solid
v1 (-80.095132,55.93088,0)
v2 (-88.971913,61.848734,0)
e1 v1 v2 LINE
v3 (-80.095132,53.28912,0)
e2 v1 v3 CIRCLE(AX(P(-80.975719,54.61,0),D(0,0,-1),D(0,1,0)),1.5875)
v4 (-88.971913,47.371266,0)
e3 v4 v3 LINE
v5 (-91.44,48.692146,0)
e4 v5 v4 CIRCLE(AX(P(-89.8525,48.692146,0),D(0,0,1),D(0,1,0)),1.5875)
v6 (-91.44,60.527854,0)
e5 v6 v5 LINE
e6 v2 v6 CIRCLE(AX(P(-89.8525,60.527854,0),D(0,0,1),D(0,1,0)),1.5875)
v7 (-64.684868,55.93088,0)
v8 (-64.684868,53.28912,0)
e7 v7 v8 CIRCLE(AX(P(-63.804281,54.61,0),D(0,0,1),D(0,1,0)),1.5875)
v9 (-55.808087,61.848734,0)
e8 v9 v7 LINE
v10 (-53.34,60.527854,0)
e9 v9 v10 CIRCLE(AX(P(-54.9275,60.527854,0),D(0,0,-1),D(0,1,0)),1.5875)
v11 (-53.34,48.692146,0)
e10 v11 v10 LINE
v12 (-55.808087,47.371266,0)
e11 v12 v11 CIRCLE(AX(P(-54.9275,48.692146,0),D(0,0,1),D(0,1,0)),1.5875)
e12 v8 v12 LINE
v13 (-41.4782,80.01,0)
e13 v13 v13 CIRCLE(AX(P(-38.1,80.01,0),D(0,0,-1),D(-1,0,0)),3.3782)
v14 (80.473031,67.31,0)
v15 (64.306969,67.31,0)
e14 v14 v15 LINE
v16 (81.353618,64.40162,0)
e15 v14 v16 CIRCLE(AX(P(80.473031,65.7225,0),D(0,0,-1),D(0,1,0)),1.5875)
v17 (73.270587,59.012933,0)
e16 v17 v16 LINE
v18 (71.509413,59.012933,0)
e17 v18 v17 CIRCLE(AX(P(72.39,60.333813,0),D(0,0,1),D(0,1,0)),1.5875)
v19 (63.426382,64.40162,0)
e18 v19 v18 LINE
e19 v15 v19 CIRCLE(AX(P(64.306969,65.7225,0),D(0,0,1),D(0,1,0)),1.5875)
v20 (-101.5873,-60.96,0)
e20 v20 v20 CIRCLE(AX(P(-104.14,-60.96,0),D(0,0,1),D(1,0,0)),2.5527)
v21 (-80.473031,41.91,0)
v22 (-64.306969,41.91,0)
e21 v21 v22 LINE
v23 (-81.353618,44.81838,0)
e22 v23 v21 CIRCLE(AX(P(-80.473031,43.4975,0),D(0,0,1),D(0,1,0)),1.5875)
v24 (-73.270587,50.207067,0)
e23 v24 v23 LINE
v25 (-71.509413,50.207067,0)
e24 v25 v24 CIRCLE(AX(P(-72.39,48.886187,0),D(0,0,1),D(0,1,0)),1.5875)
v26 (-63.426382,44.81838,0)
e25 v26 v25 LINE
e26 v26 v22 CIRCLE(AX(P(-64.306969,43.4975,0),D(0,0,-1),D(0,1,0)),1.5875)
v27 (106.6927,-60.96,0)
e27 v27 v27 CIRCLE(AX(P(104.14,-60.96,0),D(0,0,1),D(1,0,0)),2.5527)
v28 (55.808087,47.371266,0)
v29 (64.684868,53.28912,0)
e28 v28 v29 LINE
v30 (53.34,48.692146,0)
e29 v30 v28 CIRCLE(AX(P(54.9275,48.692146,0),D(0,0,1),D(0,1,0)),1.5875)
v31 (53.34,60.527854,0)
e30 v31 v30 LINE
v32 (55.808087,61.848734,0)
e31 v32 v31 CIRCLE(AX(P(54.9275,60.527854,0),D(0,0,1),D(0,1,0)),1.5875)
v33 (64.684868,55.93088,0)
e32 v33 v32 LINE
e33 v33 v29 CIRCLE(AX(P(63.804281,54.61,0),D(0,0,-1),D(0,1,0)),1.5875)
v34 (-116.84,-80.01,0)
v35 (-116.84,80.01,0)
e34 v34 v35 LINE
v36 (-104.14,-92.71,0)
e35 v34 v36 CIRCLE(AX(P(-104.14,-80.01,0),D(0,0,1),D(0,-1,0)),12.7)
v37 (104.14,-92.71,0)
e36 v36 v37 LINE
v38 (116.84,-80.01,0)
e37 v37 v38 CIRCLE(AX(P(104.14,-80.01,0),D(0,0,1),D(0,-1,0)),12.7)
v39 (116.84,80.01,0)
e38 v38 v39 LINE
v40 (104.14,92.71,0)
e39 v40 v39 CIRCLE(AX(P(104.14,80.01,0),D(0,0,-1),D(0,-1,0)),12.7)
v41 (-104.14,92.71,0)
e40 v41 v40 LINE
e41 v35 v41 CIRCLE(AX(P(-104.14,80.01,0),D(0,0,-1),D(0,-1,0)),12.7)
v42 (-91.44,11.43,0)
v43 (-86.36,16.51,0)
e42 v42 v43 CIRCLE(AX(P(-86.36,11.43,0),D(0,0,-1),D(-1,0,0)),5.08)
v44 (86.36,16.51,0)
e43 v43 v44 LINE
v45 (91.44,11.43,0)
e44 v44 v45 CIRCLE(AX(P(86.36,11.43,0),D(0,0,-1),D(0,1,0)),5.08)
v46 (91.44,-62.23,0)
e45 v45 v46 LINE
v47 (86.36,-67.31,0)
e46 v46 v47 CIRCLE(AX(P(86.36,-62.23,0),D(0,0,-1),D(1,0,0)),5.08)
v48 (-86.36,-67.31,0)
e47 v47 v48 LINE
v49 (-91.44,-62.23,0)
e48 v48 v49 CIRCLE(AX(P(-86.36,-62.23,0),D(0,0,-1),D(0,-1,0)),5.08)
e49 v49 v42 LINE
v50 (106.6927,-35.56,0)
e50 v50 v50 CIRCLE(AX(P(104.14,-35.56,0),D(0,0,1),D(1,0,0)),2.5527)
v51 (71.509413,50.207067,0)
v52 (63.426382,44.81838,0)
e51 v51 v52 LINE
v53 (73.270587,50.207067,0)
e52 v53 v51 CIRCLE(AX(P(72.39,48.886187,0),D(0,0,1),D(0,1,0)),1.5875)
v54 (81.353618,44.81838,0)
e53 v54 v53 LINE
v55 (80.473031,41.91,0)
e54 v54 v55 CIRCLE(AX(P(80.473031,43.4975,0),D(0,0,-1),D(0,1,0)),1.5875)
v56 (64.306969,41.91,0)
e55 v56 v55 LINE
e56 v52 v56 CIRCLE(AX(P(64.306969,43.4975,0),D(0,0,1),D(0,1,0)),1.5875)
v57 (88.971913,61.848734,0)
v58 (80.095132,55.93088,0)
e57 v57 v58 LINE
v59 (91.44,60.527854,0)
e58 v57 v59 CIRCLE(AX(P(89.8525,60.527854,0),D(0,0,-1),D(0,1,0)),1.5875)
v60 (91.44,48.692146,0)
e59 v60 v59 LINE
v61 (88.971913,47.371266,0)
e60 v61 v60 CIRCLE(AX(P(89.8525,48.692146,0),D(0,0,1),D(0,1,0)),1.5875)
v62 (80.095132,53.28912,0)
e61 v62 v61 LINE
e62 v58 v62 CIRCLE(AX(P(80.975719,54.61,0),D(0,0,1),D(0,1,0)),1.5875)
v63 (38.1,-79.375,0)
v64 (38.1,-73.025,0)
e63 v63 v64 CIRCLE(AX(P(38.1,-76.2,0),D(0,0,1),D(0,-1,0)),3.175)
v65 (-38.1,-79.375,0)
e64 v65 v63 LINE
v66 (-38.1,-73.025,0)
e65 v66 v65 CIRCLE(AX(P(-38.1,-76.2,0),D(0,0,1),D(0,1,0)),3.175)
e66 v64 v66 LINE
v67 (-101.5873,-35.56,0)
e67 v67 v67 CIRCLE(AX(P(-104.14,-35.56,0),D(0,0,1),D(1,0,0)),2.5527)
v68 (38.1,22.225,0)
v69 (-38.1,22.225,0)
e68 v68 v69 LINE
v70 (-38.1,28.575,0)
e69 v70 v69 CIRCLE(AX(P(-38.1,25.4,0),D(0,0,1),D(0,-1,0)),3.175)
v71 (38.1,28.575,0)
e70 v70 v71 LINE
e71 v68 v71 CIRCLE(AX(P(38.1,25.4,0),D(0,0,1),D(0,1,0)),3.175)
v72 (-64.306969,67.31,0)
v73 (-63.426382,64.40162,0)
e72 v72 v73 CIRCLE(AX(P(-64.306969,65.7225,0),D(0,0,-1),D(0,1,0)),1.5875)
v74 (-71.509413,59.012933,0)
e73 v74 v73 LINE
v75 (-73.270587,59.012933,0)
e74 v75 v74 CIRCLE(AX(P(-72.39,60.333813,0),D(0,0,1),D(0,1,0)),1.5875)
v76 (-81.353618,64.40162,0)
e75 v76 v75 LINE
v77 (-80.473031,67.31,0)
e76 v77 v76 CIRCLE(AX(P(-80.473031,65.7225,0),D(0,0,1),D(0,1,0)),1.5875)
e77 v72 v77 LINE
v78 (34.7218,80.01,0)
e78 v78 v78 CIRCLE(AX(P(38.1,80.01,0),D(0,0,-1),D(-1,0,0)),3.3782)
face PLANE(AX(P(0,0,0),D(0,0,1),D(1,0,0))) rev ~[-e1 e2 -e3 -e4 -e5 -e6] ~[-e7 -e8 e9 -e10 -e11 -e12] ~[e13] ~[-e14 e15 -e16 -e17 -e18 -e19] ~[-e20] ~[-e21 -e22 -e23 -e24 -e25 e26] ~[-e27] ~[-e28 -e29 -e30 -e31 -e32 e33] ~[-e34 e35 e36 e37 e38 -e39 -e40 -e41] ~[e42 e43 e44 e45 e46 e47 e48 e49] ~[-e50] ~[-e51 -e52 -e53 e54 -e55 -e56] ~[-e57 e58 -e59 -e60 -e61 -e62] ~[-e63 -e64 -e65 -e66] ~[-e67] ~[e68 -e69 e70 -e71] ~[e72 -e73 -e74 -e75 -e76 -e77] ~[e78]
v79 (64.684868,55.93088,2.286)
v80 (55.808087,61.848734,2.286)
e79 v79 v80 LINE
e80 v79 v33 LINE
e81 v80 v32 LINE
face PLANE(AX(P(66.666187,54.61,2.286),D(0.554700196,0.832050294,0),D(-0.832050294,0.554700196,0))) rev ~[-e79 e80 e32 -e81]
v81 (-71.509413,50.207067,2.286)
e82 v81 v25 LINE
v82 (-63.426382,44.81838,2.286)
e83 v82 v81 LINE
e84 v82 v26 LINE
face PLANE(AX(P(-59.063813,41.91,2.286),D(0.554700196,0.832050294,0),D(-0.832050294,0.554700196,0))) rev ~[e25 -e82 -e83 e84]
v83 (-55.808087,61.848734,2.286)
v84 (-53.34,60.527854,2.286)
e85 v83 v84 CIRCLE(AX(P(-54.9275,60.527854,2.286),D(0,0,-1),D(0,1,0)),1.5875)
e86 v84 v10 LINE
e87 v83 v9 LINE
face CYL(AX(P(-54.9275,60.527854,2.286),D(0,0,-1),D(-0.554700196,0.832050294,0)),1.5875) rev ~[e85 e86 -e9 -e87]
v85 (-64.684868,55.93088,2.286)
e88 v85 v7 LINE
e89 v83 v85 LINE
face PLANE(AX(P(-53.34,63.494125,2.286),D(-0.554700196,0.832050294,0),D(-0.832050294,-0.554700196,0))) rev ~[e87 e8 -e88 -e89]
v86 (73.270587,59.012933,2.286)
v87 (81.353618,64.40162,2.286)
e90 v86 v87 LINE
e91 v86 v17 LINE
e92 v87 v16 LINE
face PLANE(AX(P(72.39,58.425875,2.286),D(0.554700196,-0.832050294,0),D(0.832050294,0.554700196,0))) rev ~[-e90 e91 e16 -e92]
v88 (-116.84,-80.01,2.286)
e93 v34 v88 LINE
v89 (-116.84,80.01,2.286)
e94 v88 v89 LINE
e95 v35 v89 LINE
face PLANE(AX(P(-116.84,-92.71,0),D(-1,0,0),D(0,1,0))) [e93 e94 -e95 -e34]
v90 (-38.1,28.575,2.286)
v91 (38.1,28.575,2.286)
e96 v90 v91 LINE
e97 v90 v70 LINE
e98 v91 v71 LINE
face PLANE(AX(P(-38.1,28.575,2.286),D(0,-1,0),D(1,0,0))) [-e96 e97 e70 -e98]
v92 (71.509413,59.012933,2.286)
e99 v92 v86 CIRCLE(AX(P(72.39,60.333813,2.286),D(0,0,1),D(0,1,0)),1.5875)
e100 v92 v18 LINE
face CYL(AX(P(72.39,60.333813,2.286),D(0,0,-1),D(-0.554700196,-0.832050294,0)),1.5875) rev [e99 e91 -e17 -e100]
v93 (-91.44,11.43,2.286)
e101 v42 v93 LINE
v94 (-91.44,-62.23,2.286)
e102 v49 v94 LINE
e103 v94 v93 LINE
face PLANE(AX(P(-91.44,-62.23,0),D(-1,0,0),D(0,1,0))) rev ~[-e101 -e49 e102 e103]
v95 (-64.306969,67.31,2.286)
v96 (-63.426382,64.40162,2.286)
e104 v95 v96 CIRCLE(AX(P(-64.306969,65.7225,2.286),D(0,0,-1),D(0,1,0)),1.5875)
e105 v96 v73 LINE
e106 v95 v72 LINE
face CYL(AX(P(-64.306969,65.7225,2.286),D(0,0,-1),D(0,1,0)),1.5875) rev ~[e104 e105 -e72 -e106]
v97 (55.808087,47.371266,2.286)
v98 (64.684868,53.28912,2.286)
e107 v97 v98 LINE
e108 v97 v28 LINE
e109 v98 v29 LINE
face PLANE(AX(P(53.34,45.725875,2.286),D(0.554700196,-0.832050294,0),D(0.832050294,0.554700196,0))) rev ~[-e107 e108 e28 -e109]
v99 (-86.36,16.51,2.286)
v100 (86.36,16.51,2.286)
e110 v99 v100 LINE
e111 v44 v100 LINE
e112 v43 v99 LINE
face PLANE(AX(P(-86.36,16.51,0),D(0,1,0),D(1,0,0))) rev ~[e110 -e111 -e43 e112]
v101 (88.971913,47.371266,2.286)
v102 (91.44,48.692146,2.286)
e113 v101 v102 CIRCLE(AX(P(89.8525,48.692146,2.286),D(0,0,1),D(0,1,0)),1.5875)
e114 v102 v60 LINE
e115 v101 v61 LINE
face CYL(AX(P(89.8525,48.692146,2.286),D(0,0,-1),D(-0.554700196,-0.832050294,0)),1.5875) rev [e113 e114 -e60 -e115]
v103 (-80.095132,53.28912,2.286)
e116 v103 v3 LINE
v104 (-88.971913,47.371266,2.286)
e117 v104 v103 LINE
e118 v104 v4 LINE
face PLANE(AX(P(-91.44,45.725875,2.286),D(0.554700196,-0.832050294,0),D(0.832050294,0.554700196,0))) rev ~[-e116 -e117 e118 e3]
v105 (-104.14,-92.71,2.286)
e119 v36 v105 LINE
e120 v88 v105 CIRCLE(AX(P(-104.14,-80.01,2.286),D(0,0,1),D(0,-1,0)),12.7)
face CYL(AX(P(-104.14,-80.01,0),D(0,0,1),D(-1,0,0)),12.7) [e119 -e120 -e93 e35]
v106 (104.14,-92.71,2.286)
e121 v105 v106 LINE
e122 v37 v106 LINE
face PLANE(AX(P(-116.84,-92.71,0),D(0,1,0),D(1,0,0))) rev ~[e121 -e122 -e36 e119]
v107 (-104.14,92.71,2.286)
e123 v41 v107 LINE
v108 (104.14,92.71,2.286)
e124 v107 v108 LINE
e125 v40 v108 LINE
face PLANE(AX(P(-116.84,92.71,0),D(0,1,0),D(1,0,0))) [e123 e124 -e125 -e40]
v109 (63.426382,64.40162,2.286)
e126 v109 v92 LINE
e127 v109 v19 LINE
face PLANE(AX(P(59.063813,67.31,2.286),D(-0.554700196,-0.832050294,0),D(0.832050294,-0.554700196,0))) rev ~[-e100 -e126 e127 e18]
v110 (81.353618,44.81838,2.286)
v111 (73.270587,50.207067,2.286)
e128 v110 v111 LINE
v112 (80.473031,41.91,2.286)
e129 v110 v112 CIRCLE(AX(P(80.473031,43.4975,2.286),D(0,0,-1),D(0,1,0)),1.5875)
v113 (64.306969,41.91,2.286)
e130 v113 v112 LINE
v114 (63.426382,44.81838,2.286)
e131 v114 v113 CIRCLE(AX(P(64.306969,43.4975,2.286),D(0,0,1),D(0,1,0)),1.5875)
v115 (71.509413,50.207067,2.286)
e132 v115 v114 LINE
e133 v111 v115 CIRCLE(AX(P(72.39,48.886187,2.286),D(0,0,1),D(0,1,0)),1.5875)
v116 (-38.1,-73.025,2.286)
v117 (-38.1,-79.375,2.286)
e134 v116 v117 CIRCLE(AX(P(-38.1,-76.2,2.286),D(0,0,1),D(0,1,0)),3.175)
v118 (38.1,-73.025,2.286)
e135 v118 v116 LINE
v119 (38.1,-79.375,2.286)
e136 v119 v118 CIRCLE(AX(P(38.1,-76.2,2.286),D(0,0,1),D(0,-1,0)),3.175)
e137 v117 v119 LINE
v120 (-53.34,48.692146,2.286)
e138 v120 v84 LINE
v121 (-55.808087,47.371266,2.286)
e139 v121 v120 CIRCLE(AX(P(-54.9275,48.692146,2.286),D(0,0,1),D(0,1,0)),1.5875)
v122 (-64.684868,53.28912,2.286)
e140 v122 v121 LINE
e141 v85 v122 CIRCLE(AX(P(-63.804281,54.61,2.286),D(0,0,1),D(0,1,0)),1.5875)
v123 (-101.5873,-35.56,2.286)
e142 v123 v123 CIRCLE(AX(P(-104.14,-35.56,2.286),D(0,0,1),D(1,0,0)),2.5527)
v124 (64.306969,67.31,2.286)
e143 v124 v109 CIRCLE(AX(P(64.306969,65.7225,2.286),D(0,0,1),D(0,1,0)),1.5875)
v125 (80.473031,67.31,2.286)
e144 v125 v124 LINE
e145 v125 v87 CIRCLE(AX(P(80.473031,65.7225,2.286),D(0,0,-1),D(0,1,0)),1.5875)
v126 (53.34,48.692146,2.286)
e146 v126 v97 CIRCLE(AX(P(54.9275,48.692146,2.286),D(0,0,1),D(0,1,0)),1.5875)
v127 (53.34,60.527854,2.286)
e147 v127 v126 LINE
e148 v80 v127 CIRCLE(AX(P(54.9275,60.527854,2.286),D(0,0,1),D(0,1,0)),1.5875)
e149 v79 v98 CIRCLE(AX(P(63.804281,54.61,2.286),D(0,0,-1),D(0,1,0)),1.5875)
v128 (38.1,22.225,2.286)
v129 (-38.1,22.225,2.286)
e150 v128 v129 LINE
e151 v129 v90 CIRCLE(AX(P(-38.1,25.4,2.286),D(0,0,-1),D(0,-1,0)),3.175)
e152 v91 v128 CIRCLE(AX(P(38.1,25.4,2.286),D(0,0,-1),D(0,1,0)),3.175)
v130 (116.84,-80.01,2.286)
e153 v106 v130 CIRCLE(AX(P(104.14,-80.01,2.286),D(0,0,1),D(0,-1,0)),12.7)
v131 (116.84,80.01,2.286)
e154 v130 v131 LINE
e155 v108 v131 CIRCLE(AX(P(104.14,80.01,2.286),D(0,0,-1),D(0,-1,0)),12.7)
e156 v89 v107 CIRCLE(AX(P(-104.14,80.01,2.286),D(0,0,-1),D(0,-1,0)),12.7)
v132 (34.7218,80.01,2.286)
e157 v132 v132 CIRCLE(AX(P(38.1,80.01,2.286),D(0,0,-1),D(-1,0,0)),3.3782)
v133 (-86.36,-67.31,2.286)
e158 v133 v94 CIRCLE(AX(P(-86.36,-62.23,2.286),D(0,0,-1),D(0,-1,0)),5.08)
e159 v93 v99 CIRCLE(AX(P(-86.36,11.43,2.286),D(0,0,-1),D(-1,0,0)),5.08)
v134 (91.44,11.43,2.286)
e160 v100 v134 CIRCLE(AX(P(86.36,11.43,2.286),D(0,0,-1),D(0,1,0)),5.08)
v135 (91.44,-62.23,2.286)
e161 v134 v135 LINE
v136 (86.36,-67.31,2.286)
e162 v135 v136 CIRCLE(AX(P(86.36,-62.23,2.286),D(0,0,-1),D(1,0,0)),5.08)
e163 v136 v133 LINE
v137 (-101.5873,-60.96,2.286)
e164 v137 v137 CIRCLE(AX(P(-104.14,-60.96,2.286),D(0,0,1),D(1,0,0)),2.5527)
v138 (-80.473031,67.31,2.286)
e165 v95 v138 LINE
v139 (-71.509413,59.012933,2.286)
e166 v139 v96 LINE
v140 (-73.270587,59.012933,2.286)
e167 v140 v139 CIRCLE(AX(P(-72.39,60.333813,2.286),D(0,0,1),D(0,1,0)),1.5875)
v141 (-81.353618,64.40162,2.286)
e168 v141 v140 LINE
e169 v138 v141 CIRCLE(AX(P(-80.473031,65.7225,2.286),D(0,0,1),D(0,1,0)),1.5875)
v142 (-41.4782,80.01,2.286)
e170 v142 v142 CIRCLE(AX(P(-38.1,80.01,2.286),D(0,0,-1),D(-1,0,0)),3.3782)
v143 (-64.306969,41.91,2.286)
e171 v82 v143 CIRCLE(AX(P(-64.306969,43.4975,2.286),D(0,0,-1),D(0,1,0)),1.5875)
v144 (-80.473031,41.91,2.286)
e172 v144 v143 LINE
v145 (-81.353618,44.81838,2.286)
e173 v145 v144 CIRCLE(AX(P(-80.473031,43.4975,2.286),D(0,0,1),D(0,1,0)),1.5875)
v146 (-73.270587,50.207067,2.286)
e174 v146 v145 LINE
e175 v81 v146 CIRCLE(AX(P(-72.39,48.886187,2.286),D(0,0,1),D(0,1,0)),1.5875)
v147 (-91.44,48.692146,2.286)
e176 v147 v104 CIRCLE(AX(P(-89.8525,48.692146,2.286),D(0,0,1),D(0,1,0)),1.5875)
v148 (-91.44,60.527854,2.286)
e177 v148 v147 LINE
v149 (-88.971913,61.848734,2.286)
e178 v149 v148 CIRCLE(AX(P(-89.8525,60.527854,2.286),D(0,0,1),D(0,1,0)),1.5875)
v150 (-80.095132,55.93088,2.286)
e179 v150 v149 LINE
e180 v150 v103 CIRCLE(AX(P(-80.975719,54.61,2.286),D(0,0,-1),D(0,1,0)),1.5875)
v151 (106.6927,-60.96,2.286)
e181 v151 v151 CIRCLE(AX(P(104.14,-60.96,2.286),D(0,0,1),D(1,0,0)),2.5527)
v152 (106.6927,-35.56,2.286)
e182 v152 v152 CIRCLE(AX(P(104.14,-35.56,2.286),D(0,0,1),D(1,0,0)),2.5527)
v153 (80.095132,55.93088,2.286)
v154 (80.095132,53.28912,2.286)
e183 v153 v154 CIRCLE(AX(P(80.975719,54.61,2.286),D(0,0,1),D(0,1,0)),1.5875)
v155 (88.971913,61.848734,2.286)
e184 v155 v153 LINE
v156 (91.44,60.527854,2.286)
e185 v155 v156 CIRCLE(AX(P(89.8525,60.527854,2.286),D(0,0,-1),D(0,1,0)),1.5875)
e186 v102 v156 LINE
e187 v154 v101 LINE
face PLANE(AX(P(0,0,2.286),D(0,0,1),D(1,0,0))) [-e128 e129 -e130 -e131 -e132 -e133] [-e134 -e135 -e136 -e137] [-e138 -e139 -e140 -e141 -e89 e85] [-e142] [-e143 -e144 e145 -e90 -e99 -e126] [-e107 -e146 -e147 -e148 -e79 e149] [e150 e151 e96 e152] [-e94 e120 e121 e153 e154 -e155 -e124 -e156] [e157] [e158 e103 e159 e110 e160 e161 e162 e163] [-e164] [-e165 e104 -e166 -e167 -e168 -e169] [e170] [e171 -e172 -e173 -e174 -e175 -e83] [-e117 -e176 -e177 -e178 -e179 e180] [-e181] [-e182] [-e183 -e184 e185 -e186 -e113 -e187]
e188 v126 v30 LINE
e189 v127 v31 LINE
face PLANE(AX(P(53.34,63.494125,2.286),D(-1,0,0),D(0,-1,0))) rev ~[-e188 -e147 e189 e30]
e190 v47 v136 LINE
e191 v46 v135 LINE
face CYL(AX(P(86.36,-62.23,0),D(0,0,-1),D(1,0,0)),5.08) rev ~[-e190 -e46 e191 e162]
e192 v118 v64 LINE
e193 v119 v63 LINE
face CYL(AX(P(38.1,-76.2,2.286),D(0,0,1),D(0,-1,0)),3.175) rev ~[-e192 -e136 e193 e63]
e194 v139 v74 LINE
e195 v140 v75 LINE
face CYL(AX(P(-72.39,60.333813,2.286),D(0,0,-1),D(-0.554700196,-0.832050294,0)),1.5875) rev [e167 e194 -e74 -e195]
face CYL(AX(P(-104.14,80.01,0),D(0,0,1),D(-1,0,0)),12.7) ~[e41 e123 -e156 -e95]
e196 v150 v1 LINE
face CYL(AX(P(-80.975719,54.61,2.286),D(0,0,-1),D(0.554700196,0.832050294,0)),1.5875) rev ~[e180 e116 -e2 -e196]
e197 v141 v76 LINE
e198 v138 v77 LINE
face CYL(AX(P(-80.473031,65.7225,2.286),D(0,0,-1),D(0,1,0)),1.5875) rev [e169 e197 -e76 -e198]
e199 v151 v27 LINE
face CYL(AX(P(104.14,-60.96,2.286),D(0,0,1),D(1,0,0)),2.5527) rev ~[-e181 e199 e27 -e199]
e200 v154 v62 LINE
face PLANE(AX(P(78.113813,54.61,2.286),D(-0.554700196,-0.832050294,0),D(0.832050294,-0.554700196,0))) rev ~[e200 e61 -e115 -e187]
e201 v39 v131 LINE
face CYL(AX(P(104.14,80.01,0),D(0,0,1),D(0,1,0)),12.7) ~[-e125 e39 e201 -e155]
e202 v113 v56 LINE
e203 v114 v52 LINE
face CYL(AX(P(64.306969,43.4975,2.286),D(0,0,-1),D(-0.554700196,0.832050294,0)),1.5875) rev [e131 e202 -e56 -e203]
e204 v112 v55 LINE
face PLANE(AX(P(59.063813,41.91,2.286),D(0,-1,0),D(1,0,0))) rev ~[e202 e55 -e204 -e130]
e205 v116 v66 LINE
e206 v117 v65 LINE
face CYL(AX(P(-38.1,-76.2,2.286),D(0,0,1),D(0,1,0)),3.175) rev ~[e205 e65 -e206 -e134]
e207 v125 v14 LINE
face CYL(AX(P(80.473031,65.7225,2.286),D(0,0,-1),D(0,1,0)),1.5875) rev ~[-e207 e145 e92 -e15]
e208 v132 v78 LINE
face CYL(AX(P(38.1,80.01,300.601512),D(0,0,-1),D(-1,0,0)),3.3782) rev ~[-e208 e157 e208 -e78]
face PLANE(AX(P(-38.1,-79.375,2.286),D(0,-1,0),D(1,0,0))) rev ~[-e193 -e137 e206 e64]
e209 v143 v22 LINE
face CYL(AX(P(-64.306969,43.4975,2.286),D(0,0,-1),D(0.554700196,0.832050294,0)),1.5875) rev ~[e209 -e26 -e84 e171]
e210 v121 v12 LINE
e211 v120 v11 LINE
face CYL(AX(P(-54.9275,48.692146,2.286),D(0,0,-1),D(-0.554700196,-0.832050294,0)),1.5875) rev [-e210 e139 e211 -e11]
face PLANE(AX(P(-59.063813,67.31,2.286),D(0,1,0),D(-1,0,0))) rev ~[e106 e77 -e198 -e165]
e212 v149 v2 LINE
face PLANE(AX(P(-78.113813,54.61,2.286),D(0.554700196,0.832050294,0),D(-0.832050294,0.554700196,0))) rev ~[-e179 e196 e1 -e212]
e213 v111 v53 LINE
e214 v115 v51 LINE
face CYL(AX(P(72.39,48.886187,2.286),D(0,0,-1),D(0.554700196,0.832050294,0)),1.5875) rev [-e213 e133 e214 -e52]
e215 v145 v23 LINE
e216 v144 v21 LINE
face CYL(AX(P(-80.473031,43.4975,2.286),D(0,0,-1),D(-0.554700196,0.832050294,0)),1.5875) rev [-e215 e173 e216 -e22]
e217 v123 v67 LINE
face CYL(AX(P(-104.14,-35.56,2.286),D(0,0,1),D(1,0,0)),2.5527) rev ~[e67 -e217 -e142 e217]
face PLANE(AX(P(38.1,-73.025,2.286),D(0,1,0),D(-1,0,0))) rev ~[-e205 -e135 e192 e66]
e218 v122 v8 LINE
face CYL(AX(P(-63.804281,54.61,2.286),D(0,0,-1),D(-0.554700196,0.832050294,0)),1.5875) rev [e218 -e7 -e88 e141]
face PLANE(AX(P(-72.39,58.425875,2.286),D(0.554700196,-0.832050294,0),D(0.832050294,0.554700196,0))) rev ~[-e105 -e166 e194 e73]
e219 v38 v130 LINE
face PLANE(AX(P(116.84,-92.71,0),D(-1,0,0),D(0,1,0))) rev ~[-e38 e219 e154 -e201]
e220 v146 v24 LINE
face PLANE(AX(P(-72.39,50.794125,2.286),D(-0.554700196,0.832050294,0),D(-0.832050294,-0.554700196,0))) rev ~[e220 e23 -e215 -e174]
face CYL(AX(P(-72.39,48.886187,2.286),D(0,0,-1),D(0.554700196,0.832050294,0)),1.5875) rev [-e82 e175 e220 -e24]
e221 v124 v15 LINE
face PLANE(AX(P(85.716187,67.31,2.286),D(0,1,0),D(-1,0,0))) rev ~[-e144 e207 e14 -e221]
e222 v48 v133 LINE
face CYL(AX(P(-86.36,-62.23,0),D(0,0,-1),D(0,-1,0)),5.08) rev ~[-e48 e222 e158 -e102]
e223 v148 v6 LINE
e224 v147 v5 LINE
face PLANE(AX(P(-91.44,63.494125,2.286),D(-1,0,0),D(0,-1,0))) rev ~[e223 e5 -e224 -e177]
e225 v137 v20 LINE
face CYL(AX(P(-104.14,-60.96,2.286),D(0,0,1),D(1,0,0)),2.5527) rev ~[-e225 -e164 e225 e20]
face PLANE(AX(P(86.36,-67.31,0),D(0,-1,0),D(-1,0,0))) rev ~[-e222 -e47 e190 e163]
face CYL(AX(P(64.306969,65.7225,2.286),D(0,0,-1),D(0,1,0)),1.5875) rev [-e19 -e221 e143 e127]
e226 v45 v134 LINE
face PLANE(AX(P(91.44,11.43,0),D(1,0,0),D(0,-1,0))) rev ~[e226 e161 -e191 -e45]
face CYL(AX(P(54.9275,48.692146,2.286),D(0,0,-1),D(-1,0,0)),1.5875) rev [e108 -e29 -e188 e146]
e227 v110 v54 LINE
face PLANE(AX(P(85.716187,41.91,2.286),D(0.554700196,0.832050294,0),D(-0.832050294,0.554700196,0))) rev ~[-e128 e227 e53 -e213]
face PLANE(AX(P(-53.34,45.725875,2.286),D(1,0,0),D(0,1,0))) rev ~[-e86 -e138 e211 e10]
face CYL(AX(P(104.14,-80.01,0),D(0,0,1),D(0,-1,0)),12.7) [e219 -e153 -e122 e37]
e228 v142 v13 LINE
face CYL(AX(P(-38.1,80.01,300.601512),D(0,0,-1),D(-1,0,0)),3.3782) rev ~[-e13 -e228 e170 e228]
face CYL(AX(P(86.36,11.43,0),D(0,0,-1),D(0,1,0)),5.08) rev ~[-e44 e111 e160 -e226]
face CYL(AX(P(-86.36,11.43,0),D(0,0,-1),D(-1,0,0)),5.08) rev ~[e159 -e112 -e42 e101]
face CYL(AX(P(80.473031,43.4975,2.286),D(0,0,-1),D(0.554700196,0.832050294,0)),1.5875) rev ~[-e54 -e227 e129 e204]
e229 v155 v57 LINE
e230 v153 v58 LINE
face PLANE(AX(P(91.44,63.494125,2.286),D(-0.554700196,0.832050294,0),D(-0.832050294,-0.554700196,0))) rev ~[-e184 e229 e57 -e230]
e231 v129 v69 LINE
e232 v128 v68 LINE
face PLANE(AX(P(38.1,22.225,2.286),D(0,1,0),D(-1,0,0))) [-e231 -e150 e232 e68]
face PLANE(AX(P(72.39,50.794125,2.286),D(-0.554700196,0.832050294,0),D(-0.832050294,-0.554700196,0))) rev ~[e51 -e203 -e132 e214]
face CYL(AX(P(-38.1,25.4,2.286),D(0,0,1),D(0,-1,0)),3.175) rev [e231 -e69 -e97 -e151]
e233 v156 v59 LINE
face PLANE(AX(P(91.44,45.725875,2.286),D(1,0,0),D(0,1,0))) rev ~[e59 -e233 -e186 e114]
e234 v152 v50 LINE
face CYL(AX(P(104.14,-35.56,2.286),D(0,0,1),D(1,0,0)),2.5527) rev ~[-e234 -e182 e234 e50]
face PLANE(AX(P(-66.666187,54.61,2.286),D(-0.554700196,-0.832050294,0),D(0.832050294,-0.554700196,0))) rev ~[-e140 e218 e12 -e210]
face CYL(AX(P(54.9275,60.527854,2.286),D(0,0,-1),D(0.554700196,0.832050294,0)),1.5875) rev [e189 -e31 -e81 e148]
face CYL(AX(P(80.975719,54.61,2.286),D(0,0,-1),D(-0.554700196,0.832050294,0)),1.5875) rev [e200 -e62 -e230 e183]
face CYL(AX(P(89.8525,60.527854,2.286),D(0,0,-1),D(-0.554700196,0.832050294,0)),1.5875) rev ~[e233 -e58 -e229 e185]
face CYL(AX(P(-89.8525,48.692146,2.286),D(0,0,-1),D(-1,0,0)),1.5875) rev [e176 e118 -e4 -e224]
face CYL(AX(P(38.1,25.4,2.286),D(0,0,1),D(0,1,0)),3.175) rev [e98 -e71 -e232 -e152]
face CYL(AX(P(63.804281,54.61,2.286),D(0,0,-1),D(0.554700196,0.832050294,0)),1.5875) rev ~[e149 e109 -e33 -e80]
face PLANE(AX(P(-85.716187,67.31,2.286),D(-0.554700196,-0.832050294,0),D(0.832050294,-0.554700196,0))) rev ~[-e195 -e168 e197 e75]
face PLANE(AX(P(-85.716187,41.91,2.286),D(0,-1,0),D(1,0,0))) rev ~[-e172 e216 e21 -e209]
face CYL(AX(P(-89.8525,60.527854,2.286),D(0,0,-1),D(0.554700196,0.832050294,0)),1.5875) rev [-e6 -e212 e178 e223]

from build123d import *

# Parameters (mm, degrees)
SKETCH1_W               = 233.68
SKETCH1_H               = 185.42
BOSS_EXTRUDE1_DEPTH     = 2.286
CUT_EXTRUDE1_DEPTH      = 150.170893595
F_1_4_CLEARANCE_HOLE2_D = 6.7564
FILLET1_R               = 12.7
SKETCH9_R               = 2.5527
CUT_EXTRUDE2_DEPTH      = 150.170893595
CUT_EXTRUDE3_DEPTH      = 150.170893595
FILLET2_R               = 1.5875


with BuildPart() as part:
    # Sketch1 → Boss-Extrude1 (new body)
    with BuildSketch(Plane.XY):
        Rectangle(SKETCH1_W, SKETCH1_H)
        with BuildLine():
            Line((-86.36, 16.51), (86.36, 16.51))
            ThreePointArc((86.36, 16.51), (89.952102448, 15.022102448), (91.44, 11.43))
            Line((91.44, 11.43), (91.44, -62.23))
            ThreePointArc((91.44, -62.23), (89.952102448, -65.822102448), (86.36, -67.31))
            Line((86.36, -67.31), (-86.36, -67.31))
            ThreePointArc((-86.36, -67.31), (-89.952102448, -65.822102448), (-91.44, -62.23))
            Line((-91.44, -62.23), (-91.44, 11.43))
            ThreePointArc((-91.44, 11.43), (-89.952102448, 15.022102448), (-86.36, 16.51))
        make_face(mode=Mode.SUBTRACT)
    extrude(amount=BOSS_EXTRUDE1_DEPTH)

    # Sketch2 → Cut-Extrude1 (cut, through all)
    with BuildSketch(Plane.XY.offset(2.286)):
        with BuildLine():
            Line((38.1, 22.225), (-38.1, 22.225))
            ThreePointArc((-38.1, 22.225), (-41.275, 25.4), (-38.1, 28.575))
            Line((-38.1, 28.575), (38.1, 28.575))
            ThreePointArc((38.1, 28.575), (41.275, 25.4), (38.1, 22.225))
        make_face()
        with BuildLine():
            Line((38.1, -73.025), (-38.1, -73.025))
            ThreePointArc((-38.1, -73.025), (-41.275, -76.2), (-38.1, -79.375))
            Line((-38.1, -79.375), (38.1, -79.375))
            ThreePointArc((38.1, -79.375), (41.275, -76.2), (38.1, -73.025))
        make_face()
    extrude(amount=-CUT_EXTRUDE1_DEPTH, mode=Mode.SUBTRACT)

    # 1/4 Clearance Hole2 (through all)
    with Locations(Plane.XY.offset(2.286)):
        with Locations((-38.1, 80.01), (38.1, 80.01)):
            Hole(F_1_4_CLEARANCE_HOLE2_D / 2)

    # Fillet1
    fillet1_edges = [part.edges().sort_by_distance(p)[0] for p in [
        (116.84, -92.71, 1.143),
        (-116.84, -92.71, 1.143),
        (-116.84, 92.71, 1.143),
        (116.84, 92.71, 1.143),
    ]]
    fillet(fillet1_edges, radius=FILLET1_R)

    # Sketch9 → Cut-Extrude2 (cut, through all)
    with BuildSketch(Plane.XY.offset(2.286)):
        with Locations((-104.14, -60.96)):
            Circle(SKETCH9_R)
        with Locations((104.14, -60.96)):
            Circle(SKETCH9_R)
        with Locations((104.14, -35.56)):
            Circle(SKETCH9_R)
        with Locations((-104.14, -35.56)):
            Circle(SKETCH9_R)
    extrude(amount=-CUT_EXTRUDE2_DEPTH, mode=Mode.SUBTRACT)

    # Sketch10 → Cut-Extrude3 (cut, through all)
    with BuildSketch(Plane.XY.offset(2.286)):
        Polygon((-59.06381265, 67.31), (-85.71618735, 67.31), (-72.39, 58.4258751), align=None)
        Polygon((-78.11381265, 54.61), (-91.44, 63.4941249), (-91.44, 45.7258751), align=None)
        Polygon((-59.06381265, 41.91), (-72.39, 50.7941249), (-85.71618735, 41.91), align=None)
        Polygon((-53.34, 63.4941249), (-66.66618735, 54.61), (-53.34, 45.7258751), align=None)
        Polygon((85.71618735, 41.91), (72.39, 50.7941249), (59.06381265, 41.91), align=None)
        Polygon((66.66618735, 54.61), (53.34, 63.4941249), (53.34, 45.7258751), align=None)
        Polygon((85.71618735, 67.31), (59.06381265, 67.31), (72.39, 58.4258751), align=None)
        Polygon((91.44, 63.4941249), (78.11381265, 54.61), (91.44, 45.7258751), align=None)
    extrude(amount=-CUT_EXTRUDE3_DEPTH, mode=Mode.SUBTRACT)

    # Fillet2
    fillet2_edges = [part.edges().sort_by_distance(p)[0] for p in [
        (-72.39, 58.4258751, 1.143),
        (-85.71618735, 67.31, 1.143),
        (-59.06381265, 67.31, 1.143),
        (-91.44, 45.7258751, 1.143),
        (-91.44, 63.4941249, 1.143),
        (-78.11381265, 54.61, 1.143),
        (-85.71618735, 41.91, 1.143),
        (-72.39, 50.7941249, 1.143),
        (-59.06381265, 41.91, 1.143),
        (-66.66618735, 54.61, 1.143),
        (-53.34, 63.4941249, 1.143),
        (-53.34, 45.7258751, 1.143),
        (72.39, 50.7941249, 1.143),
        (85.71618735, 41.91, 1.143),
        (59.06381265, 41.91, 1.143),
        (53.34, 45.7258751, 1.143),
        (53.34, 63.4941249, 1.143),
        (66.66618735, 54.61, 1.143),
        (59.06381265, 67.31, 1.143),
        (85.71618735, 67.31, 1.143),
        (72.39, 58.4258751, 1.143),
        (78.11381265, 54.61, 1.143),
        (91.44, 63.4941249, 1.143),
        (91.44, 45.7258751, 1.143),
    ]]
    fillet(fillet2_edges, radius=FILLET2_R)


solid = part.part
